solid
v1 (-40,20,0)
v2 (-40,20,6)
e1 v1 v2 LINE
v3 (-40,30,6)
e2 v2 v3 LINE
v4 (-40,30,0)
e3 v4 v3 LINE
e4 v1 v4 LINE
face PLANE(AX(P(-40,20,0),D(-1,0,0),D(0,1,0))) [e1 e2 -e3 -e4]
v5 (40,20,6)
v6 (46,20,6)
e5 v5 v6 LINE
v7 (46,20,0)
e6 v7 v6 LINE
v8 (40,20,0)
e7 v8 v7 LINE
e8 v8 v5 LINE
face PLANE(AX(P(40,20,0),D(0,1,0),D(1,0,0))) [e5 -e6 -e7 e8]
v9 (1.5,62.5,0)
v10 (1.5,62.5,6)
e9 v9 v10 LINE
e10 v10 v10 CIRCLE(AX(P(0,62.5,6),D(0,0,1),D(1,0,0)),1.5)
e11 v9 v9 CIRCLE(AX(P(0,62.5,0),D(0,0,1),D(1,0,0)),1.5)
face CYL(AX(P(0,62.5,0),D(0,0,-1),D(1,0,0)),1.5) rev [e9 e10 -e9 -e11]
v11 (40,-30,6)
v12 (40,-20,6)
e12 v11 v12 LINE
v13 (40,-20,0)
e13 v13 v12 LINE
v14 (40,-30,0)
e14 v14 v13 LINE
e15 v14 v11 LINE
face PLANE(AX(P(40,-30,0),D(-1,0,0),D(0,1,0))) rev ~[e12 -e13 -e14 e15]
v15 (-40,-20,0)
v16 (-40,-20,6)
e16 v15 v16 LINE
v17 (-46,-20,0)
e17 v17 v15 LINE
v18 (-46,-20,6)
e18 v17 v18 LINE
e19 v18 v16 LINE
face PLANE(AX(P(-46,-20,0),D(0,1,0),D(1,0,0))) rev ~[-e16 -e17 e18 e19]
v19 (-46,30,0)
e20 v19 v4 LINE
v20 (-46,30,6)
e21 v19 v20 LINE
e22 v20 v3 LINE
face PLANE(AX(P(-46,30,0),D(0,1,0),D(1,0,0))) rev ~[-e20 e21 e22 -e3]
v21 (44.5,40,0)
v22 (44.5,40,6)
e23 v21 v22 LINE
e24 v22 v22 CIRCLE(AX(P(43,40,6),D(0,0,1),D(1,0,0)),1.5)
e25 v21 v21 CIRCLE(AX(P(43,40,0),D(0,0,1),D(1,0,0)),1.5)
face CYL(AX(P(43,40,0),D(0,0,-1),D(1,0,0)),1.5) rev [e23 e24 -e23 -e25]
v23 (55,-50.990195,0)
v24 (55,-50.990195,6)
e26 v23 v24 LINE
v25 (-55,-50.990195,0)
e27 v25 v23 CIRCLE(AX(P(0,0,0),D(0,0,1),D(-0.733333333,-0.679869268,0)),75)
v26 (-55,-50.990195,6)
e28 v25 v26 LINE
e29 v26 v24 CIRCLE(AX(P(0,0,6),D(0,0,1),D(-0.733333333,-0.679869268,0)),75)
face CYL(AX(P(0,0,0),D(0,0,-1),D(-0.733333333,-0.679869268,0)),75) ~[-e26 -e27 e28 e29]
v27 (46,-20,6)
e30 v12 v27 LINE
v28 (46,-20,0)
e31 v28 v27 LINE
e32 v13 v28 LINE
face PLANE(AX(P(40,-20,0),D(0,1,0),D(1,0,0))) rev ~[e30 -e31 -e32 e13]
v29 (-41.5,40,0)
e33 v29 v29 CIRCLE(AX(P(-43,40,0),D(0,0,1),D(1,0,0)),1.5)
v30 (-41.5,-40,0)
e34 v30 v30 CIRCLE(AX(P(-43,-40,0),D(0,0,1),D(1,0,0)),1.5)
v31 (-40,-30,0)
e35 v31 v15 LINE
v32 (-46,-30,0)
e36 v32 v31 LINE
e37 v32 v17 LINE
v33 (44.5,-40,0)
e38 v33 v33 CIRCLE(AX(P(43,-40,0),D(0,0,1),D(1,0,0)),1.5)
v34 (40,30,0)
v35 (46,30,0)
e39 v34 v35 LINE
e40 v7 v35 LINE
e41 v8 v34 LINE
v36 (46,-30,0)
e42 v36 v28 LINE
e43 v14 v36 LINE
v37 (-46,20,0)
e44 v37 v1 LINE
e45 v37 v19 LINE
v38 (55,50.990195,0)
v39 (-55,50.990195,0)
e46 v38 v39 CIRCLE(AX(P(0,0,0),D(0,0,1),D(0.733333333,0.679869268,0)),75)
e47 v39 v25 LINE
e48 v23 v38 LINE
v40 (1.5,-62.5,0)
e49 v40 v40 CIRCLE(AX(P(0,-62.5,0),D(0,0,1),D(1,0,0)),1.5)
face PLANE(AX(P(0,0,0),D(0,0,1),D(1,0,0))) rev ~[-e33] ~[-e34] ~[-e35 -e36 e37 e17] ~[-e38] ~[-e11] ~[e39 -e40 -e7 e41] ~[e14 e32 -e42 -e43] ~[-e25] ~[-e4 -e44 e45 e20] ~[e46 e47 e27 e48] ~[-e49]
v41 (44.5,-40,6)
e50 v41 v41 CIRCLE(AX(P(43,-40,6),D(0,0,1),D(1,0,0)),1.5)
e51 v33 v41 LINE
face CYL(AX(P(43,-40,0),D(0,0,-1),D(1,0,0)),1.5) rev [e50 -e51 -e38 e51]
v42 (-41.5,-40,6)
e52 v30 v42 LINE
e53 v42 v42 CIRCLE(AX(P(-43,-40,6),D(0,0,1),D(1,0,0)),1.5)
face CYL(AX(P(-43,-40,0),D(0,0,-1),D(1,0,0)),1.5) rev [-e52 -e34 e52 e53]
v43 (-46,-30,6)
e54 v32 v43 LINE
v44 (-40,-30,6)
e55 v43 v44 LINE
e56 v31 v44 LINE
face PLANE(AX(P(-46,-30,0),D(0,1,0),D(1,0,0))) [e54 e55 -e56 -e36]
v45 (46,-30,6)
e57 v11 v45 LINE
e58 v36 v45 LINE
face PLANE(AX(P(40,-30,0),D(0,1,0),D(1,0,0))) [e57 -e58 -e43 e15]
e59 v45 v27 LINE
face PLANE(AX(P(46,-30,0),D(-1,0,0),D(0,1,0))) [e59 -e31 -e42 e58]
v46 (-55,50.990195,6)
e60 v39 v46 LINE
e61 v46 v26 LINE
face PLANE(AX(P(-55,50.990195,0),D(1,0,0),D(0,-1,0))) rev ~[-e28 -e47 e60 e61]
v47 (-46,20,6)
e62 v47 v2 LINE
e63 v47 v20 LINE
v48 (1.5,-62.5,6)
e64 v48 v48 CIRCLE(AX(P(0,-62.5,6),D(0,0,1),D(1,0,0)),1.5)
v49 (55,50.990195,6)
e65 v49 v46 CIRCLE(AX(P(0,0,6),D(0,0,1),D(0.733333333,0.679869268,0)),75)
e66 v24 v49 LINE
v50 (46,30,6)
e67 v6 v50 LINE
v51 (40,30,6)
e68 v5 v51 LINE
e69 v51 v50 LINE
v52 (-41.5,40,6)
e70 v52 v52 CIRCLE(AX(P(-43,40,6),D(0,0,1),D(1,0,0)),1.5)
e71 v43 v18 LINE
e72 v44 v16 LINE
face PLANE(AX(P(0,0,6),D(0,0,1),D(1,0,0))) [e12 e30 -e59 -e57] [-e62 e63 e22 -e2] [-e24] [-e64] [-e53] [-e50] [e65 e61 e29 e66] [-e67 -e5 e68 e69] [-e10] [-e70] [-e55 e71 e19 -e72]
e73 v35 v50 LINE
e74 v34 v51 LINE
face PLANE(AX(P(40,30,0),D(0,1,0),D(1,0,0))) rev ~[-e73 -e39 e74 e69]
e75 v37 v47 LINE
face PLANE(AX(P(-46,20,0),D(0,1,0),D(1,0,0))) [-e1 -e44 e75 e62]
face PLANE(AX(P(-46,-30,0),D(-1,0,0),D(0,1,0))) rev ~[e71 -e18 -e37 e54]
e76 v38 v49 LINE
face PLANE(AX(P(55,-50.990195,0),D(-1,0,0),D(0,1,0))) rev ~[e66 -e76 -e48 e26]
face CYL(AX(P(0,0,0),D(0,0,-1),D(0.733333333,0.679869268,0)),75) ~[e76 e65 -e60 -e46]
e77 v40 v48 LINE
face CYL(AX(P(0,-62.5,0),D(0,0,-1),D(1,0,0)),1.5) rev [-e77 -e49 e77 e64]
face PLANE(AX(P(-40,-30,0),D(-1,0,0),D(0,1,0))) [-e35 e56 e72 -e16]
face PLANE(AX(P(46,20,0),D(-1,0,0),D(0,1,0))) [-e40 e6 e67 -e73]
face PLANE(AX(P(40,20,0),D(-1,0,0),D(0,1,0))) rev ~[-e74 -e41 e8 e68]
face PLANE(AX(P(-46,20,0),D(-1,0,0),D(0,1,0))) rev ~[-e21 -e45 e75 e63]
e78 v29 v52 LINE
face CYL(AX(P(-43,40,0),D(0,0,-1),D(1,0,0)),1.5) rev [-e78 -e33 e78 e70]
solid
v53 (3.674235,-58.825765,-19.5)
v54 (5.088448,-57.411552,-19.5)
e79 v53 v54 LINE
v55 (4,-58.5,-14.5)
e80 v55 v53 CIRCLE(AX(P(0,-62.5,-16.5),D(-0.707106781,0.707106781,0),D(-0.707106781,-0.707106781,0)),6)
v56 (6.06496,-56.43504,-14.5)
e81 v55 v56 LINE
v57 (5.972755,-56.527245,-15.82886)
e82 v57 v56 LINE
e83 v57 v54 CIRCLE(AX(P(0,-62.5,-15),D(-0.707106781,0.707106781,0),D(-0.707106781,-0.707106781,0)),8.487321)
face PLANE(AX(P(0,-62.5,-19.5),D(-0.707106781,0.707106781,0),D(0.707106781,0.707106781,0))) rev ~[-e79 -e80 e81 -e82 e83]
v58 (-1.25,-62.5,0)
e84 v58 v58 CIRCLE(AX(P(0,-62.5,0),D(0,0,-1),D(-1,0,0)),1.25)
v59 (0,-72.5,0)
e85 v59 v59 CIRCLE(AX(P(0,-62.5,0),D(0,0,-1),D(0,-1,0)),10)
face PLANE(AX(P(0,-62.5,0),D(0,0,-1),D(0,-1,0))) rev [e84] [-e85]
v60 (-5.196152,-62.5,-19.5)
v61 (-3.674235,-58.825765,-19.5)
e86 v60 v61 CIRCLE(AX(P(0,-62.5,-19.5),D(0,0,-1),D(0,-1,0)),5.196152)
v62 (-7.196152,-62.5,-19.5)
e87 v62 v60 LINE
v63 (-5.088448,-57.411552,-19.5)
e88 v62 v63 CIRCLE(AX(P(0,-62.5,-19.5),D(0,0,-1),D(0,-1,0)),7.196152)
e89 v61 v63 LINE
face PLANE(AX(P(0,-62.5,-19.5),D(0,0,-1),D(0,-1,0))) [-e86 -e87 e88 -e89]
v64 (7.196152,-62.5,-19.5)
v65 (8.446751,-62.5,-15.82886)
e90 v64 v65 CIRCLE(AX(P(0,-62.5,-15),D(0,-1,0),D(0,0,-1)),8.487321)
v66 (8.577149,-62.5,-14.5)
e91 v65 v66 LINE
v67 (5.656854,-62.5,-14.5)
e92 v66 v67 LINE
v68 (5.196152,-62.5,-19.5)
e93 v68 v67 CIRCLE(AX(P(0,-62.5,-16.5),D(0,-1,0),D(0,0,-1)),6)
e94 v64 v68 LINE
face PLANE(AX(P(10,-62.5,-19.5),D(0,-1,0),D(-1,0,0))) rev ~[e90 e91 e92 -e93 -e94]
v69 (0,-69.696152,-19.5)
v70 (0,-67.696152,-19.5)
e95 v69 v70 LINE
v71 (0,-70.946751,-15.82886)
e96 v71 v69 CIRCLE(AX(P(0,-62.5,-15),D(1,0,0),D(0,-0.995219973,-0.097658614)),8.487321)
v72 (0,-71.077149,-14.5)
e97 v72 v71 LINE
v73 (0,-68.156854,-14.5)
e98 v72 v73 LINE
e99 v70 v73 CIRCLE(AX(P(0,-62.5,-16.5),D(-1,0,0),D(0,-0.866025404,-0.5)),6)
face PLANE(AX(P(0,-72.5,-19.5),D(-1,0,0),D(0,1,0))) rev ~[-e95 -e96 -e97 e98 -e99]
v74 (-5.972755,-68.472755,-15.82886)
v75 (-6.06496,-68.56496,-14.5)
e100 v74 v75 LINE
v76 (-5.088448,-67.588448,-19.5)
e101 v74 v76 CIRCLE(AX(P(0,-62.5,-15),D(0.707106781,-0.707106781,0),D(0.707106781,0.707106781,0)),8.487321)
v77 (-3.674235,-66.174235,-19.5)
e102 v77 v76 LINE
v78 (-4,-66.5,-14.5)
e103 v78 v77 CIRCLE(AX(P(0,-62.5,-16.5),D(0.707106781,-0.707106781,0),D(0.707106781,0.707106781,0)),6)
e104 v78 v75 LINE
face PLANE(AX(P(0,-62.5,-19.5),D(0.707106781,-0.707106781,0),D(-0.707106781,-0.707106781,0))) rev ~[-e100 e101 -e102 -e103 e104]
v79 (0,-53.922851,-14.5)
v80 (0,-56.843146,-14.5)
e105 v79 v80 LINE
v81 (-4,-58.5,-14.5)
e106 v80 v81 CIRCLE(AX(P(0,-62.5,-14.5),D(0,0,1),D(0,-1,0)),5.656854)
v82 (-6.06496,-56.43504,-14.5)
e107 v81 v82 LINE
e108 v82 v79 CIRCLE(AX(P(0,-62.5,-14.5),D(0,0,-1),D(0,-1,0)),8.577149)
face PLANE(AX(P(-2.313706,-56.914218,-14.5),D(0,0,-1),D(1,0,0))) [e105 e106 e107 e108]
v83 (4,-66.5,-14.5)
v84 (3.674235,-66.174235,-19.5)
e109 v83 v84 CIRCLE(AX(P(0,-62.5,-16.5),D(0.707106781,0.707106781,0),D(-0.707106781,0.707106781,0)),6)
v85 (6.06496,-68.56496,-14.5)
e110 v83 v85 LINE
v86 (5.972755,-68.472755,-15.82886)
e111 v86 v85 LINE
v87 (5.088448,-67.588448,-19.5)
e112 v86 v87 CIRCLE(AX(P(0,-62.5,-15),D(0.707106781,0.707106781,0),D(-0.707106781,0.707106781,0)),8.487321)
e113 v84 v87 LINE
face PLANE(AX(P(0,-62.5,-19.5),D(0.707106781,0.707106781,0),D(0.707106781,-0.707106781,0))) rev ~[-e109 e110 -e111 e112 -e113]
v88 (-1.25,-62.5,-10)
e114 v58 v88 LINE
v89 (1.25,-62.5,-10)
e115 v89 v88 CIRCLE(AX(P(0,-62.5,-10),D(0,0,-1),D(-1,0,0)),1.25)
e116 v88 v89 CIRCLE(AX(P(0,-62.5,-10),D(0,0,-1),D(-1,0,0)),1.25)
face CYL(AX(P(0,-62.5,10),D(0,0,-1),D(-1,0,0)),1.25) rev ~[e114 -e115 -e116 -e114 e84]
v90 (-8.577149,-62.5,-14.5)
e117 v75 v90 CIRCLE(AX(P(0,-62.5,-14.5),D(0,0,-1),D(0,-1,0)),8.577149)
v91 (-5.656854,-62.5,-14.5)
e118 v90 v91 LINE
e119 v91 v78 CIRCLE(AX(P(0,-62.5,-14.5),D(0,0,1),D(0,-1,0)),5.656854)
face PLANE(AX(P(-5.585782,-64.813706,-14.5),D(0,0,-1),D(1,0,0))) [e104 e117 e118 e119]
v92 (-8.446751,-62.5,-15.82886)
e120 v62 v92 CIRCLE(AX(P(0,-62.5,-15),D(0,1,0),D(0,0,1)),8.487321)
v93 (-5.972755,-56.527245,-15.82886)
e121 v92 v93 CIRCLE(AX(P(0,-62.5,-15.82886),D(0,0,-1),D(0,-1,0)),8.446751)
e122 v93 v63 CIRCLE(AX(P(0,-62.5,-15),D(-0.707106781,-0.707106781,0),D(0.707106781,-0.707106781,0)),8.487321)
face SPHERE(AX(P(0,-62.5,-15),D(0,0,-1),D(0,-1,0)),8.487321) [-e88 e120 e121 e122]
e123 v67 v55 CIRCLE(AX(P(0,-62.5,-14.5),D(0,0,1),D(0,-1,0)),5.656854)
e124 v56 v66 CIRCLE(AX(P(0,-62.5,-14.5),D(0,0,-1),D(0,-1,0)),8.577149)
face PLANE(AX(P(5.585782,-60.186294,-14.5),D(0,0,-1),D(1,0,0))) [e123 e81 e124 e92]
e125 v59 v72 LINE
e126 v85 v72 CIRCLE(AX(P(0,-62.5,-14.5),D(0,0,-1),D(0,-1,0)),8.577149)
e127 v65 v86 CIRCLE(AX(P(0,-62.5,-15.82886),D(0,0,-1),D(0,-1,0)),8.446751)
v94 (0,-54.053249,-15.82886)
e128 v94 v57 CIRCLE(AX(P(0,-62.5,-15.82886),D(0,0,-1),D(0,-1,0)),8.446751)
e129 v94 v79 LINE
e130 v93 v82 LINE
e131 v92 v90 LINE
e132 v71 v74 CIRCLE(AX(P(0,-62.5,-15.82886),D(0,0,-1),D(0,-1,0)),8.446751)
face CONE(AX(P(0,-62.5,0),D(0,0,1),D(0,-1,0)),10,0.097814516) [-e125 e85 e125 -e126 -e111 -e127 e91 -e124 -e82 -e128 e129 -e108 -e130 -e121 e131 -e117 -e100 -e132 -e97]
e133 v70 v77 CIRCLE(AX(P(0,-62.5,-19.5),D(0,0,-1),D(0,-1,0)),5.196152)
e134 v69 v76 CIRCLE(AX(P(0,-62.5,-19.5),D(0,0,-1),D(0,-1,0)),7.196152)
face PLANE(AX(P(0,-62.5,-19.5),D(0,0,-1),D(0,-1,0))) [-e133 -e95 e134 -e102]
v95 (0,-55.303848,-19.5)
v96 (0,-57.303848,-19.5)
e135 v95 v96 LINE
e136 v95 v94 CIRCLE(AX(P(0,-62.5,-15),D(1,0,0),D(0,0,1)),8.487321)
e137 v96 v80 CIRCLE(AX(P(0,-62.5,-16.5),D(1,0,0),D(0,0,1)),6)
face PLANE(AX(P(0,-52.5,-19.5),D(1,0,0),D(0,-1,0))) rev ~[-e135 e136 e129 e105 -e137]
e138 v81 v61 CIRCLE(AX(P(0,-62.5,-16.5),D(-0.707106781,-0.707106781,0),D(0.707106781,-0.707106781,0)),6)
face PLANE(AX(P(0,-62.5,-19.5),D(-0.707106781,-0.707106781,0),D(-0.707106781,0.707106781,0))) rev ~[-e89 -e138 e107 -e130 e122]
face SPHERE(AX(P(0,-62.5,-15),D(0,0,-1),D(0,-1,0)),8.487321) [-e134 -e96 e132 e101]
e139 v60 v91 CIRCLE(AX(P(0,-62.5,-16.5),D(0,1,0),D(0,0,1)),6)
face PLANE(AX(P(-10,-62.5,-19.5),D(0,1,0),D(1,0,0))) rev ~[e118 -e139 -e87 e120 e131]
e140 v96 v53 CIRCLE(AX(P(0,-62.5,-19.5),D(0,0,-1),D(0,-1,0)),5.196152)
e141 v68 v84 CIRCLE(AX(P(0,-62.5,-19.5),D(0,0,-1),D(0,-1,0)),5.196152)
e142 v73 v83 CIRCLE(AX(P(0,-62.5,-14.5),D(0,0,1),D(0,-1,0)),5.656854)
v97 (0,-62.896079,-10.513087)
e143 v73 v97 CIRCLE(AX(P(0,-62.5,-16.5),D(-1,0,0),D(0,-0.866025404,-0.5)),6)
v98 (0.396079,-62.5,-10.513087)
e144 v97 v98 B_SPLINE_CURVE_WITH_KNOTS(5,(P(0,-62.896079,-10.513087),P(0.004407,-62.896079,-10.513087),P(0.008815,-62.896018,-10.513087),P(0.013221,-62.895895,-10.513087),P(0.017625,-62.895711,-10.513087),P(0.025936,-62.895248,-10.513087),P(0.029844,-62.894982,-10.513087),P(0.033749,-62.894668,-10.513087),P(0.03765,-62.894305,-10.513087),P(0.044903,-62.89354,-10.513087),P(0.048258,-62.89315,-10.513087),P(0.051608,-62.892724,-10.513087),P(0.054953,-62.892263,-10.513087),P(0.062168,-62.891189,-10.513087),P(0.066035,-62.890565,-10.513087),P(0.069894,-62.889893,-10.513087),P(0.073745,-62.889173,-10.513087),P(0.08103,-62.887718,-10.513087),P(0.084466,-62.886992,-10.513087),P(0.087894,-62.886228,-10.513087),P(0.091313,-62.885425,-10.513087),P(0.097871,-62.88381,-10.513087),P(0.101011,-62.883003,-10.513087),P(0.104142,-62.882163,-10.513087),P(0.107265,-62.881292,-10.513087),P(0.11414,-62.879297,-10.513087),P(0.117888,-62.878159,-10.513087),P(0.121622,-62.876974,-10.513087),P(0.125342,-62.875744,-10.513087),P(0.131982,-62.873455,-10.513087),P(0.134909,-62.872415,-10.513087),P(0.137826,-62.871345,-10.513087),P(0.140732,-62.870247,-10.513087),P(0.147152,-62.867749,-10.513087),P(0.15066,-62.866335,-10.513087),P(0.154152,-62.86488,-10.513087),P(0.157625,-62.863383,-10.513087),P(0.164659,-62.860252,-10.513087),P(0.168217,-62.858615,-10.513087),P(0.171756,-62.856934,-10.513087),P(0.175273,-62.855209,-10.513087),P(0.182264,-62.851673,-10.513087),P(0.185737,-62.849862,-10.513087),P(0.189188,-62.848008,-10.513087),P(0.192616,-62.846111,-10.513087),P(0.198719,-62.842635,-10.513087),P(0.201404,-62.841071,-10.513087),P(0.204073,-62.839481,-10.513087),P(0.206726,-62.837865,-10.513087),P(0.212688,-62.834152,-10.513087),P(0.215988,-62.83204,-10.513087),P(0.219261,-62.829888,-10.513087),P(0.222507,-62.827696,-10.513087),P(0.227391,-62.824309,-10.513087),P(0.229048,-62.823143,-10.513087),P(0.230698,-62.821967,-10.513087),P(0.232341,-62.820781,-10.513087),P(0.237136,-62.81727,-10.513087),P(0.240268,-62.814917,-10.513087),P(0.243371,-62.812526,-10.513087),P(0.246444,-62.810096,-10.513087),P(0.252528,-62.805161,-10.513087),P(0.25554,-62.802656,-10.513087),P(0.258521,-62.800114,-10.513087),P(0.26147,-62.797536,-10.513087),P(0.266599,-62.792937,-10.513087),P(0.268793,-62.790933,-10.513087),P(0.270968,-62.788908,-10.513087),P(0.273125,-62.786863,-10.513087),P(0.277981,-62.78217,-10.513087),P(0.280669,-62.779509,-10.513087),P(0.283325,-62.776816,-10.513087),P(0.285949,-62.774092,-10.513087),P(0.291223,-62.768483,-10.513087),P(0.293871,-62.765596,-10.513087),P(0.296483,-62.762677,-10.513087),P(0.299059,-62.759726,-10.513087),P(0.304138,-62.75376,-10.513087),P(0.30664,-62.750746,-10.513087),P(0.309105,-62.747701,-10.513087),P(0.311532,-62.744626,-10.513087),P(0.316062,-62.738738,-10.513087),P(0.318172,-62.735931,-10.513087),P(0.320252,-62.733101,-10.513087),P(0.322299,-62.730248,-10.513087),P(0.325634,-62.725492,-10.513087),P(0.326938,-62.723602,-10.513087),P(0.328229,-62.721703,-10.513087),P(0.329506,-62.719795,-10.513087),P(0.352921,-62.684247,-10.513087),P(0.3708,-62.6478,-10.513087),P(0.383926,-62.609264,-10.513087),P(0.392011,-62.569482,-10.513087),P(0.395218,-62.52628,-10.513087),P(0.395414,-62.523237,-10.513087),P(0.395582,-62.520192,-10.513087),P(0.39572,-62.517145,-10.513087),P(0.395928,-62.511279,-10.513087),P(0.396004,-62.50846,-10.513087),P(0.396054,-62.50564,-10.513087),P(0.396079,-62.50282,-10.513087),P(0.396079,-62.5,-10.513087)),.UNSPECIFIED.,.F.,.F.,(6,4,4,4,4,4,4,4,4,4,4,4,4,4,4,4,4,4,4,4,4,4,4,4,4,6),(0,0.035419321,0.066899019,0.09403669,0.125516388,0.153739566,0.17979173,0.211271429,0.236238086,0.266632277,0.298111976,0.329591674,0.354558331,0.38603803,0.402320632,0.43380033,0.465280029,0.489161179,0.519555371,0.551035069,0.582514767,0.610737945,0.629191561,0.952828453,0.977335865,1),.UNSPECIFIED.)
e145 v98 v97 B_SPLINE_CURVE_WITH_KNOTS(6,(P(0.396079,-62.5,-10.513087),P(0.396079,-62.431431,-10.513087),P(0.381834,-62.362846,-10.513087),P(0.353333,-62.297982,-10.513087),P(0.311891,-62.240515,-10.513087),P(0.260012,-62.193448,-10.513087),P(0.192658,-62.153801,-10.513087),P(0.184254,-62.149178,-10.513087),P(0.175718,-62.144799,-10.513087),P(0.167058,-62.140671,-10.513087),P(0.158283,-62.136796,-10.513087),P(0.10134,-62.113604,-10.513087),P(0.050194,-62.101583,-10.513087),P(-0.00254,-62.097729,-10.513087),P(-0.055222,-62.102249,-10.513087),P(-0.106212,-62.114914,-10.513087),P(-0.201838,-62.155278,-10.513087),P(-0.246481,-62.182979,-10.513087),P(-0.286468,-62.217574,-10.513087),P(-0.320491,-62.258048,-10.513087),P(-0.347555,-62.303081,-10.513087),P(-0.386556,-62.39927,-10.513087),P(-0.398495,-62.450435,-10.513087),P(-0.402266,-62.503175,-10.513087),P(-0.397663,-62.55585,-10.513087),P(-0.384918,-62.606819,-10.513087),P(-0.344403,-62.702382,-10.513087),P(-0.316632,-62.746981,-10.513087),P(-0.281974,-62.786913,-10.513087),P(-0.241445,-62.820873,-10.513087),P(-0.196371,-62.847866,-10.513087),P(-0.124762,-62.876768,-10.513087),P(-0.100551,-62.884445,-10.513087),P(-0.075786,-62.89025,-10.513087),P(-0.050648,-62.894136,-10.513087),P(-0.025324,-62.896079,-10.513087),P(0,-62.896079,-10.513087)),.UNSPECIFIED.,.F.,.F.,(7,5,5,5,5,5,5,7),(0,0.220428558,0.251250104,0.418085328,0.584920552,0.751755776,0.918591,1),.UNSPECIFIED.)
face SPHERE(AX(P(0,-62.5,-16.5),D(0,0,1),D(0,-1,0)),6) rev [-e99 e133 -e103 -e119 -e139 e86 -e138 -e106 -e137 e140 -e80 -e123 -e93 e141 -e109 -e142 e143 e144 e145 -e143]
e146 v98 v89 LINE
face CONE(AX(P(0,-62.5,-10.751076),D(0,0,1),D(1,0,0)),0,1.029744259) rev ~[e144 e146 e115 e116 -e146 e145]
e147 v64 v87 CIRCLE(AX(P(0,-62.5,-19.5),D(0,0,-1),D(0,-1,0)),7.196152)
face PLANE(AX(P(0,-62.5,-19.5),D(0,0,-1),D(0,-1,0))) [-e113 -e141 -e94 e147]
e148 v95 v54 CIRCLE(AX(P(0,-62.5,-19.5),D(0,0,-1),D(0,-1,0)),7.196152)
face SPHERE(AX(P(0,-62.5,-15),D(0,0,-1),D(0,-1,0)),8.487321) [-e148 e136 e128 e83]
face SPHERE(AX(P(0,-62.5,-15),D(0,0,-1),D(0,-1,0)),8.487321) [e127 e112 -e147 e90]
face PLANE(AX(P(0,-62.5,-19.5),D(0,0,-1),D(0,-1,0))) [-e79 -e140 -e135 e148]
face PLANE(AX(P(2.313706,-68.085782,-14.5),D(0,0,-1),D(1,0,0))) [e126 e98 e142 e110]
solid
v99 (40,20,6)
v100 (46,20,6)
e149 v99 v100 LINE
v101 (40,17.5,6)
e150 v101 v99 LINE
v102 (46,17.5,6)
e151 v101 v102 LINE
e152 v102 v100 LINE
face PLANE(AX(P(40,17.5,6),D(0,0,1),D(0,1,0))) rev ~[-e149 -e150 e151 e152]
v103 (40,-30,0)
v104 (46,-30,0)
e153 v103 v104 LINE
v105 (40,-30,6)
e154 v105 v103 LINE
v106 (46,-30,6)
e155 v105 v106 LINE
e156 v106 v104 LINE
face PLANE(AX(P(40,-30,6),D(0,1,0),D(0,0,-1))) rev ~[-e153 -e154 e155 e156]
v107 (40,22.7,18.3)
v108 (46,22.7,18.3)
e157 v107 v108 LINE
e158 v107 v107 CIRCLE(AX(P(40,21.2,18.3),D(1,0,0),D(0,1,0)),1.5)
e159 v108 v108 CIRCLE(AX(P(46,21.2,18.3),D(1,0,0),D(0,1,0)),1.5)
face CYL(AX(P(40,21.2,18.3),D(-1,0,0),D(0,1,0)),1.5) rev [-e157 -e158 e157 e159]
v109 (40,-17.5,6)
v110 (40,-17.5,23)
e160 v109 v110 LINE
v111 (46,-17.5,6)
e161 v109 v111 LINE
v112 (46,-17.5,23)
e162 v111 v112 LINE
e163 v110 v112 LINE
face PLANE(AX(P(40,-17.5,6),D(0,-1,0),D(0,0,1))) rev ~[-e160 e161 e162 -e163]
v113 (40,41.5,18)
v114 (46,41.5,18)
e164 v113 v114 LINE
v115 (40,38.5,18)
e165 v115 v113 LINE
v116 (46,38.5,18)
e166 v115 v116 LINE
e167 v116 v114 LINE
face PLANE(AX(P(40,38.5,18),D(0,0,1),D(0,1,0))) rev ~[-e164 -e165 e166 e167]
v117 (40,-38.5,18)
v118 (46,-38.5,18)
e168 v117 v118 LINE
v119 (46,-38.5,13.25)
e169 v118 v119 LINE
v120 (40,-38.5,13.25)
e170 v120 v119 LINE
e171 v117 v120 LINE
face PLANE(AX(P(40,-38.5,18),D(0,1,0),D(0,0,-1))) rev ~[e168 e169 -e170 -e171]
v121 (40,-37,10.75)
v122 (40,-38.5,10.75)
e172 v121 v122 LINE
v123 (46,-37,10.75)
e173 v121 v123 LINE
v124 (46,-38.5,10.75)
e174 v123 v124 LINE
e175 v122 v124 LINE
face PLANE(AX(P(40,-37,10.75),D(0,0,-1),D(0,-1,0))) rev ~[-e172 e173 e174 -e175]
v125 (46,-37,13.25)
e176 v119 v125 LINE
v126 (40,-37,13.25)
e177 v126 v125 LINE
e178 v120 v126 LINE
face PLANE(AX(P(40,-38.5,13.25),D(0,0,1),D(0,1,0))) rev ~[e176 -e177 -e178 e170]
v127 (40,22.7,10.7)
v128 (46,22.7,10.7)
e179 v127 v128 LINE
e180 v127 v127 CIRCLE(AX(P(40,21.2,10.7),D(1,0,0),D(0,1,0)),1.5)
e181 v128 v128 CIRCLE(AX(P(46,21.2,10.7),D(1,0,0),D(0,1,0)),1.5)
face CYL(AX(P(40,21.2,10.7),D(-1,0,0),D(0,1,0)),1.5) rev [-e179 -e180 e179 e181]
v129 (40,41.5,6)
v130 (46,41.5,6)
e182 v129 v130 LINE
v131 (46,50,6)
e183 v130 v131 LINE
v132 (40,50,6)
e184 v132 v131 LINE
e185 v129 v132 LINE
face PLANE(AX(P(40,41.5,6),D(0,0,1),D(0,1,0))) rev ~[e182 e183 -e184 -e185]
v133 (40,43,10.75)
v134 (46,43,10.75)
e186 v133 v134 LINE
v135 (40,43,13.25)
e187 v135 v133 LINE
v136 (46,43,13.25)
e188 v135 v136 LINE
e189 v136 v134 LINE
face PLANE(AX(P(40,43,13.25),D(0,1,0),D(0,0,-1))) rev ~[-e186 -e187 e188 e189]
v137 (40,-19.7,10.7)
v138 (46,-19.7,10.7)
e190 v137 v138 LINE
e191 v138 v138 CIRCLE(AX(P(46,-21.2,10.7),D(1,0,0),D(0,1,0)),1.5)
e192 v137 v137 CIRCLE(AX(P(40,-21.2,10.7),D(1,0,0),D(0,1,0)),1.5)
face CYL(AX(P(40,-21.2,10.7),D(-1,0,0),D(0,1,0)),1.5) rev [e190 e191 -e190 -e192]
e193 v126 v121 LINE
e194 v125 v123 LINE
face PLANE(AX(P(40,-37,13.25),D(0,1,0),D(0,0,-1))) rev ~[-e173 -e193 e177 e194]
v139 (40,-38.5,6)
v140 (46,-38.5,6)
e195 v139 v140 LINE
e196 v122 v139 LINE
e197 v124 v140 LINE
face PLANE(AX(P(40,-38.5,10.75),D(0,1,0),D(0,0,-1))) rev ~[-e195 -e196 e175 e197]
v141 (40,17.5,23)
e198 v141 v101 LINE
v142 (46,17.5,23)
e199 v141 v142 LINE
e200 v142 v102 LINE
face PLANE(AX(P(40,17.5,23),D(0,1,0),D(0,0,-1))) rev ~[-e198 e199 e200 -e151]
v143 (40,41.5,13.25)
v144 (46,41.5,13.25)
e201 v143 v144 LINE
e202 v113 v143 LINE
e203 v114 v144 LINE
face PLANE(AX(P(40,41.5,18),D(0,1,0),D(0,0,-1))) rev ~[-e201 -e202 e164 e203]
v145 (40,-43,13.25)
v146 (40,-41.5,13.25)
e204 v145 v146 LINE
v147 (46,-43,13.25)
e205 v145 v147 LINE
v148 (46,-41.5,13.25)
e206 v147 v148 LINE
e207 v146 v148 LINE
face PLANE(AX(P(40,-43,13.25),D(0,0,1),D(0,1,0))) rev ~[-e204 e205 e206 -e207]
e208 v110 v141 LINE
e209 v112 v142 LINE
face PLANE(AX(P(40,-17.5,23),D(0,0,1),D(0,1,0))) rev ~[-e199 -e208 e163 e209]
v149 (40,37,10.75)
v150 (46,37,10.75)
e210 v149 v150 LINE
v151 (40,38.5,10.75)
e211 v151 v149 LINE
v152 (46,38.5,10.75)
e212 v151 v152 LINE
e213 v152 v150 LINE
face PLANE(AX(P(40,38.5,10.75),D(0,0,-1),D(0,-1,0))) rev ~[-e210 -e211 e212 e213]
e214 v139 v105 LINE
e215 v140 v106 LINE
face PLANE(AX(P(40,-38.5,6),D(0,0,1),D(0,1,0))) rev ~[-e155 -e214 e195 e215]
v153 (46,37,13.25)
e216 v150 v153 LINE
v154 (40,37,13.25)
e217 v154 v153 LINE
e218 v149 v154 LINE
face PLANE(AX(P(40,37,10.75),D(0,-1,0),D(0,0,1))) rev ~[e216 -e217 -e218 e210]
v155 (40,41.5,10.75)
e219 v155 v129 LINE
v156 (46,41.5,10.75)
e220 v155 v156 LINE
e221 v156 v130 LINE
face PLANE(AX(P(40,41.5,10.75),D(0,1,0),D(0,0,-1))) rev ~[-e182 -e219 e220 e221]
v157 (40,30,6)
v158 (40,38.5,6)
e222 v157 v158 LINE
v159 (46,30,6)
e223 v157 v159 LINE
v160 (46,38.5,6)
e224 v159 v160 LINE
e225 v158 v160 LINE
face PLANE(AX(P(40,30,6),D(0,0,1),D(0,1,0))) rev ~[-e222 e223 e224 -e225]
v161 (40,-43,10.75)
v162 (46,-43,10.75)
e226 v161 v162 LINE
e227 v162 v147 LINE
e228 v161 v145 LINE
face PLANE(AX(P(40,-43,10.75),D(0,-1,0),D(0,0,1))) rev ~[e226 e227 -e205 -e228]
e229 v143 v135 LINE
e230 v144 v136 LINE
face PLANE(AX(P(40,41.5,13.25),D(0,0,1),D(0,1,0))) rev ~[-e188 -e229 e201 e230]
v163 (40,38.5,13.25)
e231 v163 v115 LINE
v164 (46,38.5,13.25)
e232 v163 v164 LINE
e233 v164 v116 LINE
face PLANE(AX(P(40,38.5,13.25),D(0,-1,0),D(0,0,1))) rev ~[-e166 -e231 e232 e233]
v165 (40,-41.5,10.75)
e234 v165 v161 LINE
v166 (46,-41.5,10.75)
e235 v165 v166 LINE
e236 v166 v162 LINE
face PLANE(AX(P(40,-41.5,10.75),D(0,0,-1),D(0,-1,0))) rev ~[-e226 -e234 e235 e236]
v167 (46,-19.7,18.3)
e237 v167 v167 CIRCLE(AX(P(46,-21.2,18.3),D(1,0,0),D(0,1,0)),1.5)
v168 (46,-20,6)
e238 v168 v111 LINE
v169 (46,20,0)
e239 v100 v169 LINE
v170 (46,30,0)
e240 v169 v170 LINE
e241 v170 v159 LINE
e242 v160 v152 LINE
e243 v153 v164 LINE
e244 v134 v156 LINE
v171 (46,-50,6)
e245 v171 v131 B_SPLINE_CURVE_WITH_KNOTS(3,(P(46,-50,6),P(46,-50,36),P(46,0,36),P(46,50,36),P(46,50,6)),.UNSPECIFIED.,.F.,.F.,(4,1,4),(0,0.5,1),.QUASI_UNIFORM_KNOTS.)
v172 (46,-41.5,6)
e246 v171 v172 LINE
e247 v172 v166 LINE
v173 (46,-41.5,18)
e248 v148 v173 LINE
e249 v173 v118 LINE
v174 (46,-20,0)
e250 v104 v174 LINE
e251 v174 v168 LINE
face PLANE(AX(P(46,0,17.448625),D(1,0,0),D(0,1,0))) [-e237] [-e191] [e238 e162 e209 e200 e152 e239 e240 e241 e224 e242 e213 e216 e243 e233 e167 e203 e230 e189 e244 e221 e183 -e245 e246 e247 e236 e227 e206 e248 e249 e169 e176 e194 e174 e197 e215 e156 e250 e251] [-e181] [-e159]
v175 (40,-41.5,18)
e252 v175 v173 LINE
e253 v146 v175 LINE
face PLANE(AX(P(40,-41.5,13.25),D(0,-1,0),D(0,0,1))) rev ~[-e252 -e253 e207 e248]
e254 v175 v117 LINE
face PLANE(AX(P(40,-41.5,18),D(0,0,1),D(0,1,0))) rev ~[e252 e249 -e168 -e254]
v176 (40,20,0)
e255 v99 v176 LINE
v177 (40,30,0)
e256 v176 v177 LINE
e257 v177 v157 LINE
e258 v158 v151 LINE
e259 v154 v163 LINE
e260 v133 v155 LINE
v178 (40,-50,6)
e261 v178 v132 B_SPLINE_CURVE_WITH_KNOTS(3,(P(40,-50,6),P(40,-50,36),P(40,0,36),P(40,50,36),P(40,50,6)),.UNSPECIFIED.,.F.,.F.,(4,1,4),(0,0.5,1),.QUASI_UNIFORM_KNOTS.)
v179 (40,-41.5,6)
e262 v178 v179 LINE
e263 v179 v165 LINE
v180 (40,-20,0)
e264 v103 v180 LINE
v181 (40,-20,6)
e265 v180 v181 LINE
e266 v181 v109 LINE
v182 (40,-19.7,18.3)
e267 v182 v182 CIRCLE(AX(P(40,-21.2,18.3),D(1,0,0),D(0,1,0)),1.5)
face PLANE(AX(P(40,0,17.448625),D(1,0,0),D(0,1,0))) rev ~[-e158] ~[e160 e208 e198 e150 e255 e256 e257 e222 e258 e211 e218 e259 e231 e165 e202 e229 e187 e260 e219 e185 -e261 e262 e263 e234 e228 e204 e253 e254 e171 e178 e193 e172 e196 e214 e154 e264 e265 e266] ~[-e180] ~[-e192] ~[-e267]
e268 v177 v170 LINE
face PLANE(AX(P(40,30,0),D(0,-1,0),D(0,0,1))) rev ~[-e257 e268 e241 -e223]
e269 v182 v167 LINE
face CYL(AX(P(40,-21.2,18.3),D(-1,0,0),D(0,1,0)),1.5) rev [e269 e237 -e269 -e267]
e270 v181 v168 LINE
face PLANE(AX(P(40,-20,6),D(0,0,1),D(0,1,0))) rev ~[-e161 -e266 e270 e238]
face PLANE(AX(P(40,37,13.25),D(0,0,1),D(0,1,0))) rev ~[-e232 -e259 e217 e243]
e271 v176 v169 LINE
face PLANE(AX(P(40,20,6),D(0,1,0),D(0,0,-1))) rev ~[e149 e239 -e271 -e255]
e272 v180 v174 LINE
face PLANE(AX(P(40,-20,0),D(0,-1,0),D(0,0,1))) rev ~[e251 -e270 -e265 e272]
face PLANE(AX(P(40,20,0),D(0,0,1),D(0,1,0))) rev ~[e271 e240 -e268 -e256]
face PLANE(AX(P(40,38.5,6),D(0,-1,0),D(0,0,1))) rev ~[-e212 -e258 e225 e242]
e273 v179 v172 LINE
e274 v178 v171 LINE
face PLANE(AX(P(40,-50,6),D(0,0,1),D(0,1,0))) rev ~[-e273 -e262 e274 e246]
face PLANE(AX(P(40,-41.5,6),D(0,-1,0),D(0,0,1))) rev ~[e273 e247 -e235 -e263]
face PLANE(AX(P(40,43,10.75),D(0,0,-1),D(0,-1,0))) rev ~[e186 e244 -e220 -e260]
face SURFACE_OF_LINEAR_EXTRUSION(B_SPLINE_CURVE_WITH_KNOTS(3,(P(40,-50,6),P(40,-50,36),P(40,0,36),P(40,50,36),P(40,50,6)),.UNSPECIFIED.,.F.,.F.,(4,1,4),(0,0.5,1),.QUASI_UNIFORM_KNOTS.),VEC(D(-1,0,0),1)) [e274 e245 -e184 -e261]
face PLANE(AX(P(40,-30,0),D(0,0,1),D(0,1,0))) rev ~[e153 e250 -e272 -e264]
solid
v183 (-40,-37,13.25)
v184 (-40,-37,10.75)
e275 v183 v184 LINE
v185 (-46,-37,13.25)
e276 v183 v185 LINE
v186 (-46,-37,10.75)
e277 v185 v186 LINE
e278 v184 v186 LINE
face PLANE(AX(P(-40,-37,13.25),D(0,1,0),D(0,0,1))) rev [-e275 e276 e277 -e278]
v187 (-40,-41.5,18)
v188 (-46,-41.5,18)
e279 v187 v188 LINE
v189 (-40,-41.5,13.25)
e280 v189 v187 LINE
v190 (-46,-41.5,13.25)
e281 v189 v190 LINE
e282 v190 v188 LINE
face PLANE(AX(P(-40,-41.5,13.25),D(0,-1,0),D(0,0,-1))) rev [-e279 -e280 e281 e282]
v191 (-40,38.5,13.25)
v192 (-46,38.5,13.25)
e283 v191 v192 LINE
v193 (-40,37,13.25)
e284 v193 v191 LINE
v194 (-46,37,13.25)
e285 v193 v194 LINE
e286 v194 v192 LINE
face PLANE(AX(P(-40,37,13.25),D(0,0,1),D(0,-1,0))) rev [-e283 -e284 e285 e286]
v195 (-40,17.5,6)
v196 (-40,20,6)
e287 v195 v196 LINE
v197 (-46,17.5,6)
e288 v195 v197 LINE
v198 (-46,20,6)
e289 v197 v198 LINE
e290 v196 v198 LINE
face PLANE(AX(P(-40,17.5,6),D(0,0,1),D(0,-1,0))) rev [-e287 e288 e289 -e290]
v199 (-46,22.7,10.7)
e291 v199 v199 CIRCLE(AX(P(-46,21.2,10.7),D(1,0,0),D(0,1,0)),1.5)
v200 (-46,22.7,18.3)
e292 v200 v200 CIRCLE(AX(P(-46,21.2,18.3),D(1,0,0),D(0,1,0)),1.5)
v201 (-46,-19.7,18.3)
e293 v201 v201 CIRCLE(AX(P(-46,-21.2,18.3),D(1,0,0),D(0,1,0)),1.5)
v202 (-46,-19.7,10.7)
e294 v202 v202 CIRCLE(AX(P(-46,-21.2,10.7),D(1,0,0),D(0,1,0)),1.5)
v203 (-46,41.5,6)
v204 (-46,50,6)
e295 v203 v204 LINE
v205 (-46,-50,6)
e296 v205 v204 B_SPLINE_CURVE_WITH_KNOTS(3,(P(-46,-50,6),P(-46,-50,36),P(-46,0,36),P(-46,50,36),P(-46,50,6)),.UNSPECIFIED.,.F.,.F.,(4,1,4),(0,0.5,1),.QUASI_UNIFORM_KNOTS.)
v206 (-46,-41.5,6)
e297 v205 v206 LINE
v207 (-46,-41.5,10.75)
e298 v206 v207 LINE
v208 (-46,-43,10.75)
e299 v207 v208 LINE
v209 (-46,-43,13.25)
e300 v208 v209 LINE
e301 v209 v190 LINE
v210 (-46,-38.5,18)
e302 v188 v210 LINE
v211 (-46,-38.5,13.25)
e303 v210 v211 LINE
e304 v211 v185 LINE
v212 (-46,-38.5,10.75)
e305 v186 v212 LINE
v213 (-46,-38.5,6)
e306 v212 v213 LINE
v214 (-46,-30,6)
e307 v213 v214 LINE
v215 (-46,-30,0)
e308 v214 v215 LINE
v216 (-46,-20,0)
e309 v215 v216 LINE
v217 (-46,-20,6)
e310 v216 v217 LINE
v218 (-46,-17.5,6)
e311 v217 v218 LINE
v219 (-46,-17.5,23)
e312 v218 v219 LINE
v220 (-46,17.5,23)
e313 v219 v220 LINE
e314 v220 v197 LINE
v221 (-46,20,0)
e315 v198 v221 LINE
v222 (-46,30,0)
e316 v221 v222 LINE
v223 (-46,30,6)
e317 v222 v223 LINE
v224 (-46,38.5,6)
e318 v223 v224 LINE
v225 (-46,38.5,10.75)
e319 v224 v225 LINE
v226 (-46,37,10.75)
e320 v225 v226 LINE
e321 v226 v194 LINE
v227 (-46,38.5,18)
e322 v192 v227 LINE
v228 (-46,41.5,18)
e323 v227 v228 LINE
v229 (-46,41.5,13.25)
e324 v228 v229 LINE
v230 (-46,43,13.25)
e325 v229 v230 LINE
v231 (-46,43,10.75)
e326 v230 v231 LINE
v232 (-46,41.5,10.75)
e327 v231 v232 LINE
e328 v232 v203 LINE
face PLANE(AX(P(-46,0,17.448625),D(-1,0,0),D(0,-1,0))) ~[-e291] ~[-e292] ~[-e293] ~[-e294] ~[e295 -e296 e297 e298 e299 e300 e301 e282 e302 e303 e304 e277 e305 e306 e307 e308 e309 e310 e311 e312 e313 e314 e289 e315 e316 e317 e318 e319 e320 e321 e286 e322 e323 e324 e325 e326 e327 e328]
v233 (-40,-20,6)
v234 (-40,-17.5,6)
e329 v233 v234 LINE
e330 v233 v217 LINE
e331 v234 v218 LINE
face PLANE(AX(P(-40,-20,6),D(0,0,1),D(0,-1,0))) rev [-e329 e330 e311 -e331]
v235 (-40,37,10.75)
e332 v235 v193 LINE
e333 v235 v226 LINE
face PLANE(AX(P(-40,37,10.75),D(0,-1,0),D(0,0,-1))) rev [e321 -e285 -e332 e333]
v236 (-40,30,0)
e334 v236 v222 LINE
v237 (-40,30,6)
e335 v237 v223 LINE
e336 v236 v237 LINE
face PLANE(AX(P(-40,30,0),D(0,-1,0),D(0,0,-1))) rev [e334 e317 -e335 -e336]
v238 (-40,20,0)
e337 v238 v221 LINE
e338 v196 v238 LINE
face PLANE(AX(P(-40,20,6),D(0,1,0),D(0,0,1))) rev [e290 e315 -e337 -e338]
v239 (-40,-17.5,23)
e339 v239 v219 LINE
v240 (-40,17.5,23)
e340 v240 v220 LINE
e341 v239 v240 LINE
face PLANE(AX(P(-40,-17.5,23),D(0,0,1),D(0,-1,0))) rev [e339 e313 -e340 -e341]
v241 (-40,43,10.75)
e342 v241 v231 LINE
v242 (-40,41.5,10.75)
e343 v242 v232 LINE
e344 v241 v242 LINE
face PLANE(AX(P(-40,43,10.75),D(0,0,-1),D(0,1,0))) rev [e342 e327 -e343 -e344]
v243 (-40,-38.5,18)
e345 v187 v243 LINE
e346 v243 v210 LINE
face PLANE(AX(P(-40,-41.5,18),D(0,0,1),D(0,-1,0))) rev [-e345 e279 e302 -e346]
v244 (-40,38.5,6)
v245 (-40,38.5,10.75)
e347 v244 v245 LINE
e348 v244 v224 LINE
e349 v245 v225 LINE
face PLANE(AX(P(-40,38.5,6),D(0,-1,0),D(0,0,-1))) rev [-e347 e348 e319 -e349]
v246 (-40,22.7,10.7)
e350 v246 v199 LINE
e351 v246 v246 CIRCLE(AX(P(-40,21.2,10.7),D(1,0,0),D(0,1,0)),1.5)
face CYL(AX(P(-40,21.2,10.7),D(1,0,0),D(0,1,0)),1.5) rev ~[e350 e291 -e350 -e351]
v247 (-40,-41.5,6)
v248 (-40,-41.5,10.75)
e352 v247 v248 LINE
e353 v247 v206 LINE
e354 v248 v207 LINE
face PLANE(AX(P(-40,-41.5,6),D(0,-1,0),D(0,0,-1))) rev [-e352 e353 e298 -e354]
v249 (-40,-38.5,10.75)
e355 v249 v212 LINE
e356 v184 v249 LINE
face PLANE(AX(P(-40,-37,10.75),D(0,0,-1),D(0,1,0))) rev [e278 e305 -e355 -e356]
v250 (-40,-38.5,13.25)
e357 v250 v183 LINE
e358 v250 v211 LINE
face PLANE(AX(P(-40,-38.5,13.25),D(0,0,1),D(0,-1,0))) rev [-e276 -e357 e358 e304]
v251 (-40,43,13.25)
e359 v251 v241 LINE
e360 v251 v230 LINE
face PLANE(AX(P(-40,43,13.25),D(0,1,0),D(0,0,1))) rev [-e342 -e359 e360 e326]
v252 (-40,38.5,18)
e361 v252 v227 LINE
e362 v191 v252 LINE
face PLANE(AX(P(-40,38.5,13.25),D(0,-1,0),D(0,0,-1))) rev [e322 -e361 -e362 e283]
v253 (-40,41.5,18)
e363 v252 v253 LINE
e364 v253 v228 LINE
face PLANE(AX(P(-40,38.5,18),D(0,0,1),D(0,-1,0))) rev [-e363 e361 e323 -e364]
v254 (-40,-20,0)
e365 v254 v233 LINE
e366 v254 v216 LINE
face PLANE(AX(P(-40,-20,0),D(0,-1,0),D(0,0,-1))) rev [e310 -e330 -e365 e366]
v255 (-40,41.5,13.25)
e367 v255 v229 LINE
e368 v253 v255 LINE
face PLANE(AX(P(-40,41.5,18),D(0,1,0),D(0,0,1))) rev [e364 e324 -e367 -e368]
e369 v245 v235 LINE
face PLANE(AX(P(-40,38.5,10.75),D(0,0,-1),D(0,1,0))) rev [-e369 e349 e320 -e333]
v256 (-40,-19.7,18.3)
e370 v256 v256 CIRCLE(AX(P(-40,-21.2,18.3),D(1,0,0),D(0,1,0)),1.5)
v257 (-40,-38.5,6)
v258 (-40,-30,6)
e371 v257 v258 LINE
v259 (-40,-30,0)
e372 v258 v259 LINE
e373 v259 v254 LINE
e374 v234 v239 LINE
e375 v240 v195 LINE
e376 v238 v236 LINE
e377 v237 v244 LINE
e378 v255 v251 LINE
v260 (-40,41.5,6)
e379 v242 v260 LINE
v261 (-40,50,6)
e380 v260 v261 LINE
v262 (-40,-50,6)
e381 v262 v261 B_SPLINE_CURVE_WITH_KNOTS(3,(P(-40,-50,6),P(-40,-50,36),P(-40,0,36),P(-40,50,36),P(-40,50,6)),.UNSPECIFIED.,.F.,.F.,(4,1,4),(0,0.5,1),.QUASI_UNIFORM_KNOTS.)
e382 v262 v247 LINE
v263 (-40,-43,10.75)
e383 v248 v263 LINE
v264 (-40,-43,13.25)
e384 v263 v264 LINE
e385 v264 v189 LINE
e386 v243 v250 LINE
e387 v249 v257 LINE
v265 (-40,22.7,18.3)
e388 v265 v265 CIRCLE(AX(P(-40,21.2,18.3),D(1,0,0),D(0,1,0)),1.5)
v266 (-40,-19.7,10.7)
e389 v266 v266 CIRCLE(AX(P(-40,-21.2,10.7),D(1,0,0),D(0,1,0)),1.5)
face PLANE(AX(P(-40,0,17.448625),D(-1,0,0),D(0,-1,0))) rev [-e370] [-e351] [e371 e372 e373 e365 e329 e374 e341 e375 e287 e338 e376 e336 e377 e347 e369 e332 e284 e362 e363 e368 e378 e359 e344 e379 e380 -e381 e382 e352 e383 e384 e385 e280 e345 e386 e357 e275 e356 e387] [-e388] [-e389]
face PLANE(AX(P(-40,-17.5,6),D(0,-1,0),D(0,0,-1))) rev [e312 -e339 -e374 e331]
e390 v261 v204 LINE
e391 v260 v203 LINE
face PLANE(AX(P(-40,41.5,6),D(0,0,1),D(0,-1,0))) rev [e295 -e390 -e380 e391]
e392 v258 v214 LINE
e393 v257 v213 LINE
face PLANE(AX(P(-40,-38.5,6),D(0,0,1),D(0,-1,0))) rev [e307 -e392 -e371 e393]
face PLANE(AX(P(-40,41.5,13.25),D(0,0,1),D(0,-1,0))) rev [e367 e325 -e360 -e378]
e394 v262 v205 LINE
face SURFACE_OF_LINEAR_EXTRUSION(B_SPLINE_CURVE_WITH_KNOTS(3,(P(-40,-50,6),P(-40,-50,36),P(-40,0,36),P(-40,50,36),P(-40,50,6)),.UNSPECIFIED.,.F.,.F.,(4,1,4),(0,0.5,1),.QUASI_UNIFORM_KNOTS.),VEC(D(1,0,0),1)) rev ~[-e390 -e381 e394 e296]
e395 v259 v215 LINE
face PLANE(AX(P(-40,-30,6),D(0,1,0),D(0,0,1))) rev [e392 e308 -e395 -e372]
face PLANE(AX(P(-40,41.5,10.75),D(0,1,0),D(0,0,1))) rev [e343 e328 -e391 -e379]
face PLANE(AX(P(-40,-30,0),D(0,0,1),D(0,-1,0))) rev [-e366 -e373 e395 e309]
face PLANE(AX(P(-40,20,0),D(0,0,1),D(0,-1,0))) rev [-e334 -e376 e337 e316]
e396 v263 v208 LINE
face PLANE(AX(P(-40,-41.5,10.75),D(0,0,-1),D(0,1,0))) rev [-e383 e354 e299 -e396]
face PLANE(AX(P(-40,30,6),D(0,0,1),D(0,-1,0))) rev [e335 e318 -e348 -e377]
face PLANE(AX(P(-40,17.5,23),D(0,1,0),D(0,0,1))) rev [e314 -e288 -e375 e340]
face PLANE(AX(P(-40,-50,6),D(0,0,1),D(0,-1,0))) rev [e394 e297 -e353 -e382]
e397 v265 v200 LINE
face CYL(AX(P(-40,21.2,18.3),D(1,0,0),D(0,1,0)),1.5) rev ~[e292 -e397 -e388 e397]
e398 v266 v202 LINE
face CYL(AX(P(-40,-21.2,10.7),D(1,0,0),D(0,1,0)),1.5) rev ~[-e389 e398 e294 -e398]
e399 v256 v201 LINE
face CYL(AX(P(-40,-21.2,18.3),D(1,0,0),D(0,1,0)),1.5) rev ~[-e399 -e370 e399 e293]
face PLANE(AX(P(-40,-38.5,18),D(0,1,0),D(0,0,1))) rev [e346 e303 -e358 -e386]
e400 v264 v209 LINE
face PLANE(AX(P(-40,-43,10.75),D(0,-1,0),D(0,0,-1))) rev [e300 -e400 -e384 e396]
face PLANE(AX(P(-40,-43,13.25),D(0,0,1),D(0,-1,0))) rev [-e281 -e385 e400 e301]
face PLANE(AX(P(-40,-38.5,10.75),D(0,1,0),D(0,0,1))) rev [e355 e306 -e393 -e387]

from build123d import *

# Parameters (mm, degrees)
F0_R      = 1.5
F0_W      = 6
F0_H      = 10
F1_DEPTH  = 6
F2_R      = 1.5
F3_DEPTH  = 6
F8_D      = 2.5
F8_DEPTH  = 10
F8_TIP    = 0.7510757738
F10_DEPTH = 5


with BuildPart() as f1:
    # F0 (on Top) → F1 (new body)
    with BuildSketch(Plane.XY):
        with BuildLine():
            Line((55, -50.9901951359), (55, 50.9901951359))
            ThreePointArc((55, 50.9901951359), (0, 75), (-55, 50.9901951359))
            Line((-55, 50.9901951359), (-55, -50.9901951359))
            ThreePointArc((-55, -50.9901951359), (0, -75), (55, -50.9901951359))
        make_face()
        with Locations((-43, -40)):
            Circle(F0_R, mode=Mode.SUBTRACT)
        with Locations((-43, -25)):
            Rectangle(F0_W, F0_H, mode=Mode.SUBTRACT)
        with Locations((0, -62.5)):
            Circle(F0_R, mode=Mode.SUBTRACT)
        with Locations((43, -40)):
            Circle(F0_R, mode=Mode.SUBTRACT)
        with Locations((43, -25)):
            Rectangle(F0_W, F0_H, mode=Mode.SUBTRACT)
        with Locations((-43, 25)):
            Rectangle(F0_W, F0_H, mode=Mode.SUBTRACT)
        with Locations((-43, 40)):
            Circle(F0_R, mode=Mode.SUBTRACT)
        with Locations((43, 25)):
            Rectangle(F0_W, F0_H, mode=Mode.SUBTRACT)
        with Locations((0, 62.5)):
            Circle(F0_R, mode=Mode.SUBTRACT)
        with Locations((43, 40)):
            Circle(F0_R, mode=Mode.SUBTRACT)
    extrude(amount=F1_DEPTH)


with BuildPart() as f3:
    # F2 (on face) → F3 (new body)
    with BuildSketch(Plane.YZ.offset(40)):
        with BuildLine():
            Line((-30, 6), (-30, 0))
            Line((-30, 0), (-20, 0))
            Line((-20, 0), (-20, 6))
            Line((-20, 6), (-17.5, 6))
            Line((-17.5, 6), (-17.5, 23))
            Line((-17.5, 23), (17.5, 23))
            Line((17.5, 23), (17.5, 6))
            Line((17.5, 6), (20, 6))
            Line((20, 6), (20, 0))
            Line((20, 0), (30, 0))
            Line((30, 0), (30, 6))
            Line((30, 6), (38.5, 6))
            Line((38.5, 6), (38.5, 10.75))
            Line((38.5, 10.75), (37, 10.75))
            Line((37, 10.75), (37, 13.25))
            Line((37, 13.25), (38.5, 13.25))
            Line((38.5, 13.25), (38.5, 18))
            Line((38.5, 18), (41.5, 18))
            Line((41.5, 18), (41.5, 13.25))
            Line((41.5, 13.25), (43, 13.25))
            Line((43, 13.25), (43, 10.75))
            Line((43, 10.75), (41.5, 10.75))
            Line((41.5, 10.75), (41.5, 6))
            Line((41.5, 6), (50, 6))
            add(Edge.make_bspline(
                [(-50, 6), (-50, 36), (0, 36), (50, 36), (50, 6)],
                knots=[0, 0, 0, 0, 0.5, 1, 1, 1, 1], degree=3))
            Line((-50, 6), (-41.5, 6))
            Line((-41.5, 6), (-41.5, 10.75))
            Line((-41.5, 10.75), (-43, 10.75))
            Line((-43, 10.75), (-43, 13.25))
            Line((-43, 13.25), (-41.5, 13.25))
            Line((-41.5, 13.25), (-41.5, 18))
            Line((-41.5, 18), (-38.5, 18))
            Line((-38.5, 18), (-38.5, 13.25))
            Line((-38.5, 13.25), (-37, 13.25))
            Line((-37, 13.25), (-37, 10.75))
            Line((-37, 10.75), (-38.5, 10.75))
            Line((-38.5, 10.75), (-38.5, 6))
            Line((-38.5, 6), (-30, 6))
        make_face()
        with Locations((-21.2, 10.7)):
            Circle(F2_R, mode=Mode.SUBTRACT)
        with Locations((21.2, 10.7)):
            Circle(F2_R, mode=Mode.SUBTRACT)
        with Locations((-21.2, 18.3)):
            Circle(F2_R, mode=Mode.SUBTRACT)
        with Locations((21.2, 18.3)):
            Circle(F2_R, mode=Mode.SUBTRACT)
    extrude(amount=F3_DEPTH)


with BuildPart() as f4_1:
    # F4: instance of F3
    add(f3.part.mirror(Plane.YZ))


with BuildPart() as f6:
    # F5 (on Right) → F6 (revolve)
    with BuildSketch(Plane.YZ):
        with BuildLine():
            Line((-62.5, 0), (-72.5, 0))
            Line((-72.5, 0), (-70.9467509056, -15.8288599577))
            ThreePointArc((-70.9467509056, -15.8288599577), (-70.5339544085, -17.7368204642), (-69.6961524227, -19.5))
            Line((-69.6961524227, -19.5), (-67.6961524227, -19.5))
            ThreePointArc((-67.6961524227, -19.5), (-67.6961524227, -13.5), (-62.5, -10.5))
            Line((-62.5, -10.5), (-62.5, 0))
        make_face()
    revolve(axis=Axis((0, -62.5, -11), (0, 0, -1)))

    # F8
    with Locations(Plane.XY):
        with Locations((0, -62.5)):
            Hole(F8_D / 2, depth=F8_DEPTH)
            with Locations((0, 0, -(F8_DEPTH + F8_TIP / 2))):  # 118° drill point
                Cone(0, F8_D / 2, F8_TIP, mode=Mode.SUBTRACT)

    # F9 (on face) → F10 (cut)
    with BuildSketch(Plane(origin=(0, 0, -19.5), x_dir=(1, 0, 0), z_dir=(0, 0, -1))):
        with BuildLine():
            Line((10, 62.5), (0, 62.5))
            Line((0, 62.5), (7.0710678119, 55.4289321881))
            ThreePointArc((7.0710678119, 55.4289321881), (9.2387953251, 58.6731656763), (10, 62.5))
        make_face()
        with BuildLine():
            Line((0, 72.5), (0, 62.5))
            Line((0, 62.5), (7.0710678119, 69.5710678119))
            ThreePointArc((7.0710678119, 69.5710678119), (3.8268343237, 71.7387953251), (0, 72.5))
        make_face()
        with BuildLine():
            Line((-10, 62.5), (0, 62.5))
            Line((0, 62.5), (-7.0710678119, 69.5710678119))
            ThreePointArc((-7.0710678119, 69.5710678119), (-9.2387953251, 66.3268343237), (-10, 62.5))
        make_face()
        with BuildLine():
            Line((0, 52.5), (0, 62.5))
            Line((0, 62.5), (-7.0710678119, 55.4289321881))
            ThreePointArc((-7.0710678119, 55.4289321881), (-3.8268343237, 53.2612046749), (0, 52.5))
        make_face()
    extrude(amount=-F10_DEPTH, mode=Mode.SUBTRACT)


solid = Compound([f1.part, f3.part, f4_1.part, f6.part])
